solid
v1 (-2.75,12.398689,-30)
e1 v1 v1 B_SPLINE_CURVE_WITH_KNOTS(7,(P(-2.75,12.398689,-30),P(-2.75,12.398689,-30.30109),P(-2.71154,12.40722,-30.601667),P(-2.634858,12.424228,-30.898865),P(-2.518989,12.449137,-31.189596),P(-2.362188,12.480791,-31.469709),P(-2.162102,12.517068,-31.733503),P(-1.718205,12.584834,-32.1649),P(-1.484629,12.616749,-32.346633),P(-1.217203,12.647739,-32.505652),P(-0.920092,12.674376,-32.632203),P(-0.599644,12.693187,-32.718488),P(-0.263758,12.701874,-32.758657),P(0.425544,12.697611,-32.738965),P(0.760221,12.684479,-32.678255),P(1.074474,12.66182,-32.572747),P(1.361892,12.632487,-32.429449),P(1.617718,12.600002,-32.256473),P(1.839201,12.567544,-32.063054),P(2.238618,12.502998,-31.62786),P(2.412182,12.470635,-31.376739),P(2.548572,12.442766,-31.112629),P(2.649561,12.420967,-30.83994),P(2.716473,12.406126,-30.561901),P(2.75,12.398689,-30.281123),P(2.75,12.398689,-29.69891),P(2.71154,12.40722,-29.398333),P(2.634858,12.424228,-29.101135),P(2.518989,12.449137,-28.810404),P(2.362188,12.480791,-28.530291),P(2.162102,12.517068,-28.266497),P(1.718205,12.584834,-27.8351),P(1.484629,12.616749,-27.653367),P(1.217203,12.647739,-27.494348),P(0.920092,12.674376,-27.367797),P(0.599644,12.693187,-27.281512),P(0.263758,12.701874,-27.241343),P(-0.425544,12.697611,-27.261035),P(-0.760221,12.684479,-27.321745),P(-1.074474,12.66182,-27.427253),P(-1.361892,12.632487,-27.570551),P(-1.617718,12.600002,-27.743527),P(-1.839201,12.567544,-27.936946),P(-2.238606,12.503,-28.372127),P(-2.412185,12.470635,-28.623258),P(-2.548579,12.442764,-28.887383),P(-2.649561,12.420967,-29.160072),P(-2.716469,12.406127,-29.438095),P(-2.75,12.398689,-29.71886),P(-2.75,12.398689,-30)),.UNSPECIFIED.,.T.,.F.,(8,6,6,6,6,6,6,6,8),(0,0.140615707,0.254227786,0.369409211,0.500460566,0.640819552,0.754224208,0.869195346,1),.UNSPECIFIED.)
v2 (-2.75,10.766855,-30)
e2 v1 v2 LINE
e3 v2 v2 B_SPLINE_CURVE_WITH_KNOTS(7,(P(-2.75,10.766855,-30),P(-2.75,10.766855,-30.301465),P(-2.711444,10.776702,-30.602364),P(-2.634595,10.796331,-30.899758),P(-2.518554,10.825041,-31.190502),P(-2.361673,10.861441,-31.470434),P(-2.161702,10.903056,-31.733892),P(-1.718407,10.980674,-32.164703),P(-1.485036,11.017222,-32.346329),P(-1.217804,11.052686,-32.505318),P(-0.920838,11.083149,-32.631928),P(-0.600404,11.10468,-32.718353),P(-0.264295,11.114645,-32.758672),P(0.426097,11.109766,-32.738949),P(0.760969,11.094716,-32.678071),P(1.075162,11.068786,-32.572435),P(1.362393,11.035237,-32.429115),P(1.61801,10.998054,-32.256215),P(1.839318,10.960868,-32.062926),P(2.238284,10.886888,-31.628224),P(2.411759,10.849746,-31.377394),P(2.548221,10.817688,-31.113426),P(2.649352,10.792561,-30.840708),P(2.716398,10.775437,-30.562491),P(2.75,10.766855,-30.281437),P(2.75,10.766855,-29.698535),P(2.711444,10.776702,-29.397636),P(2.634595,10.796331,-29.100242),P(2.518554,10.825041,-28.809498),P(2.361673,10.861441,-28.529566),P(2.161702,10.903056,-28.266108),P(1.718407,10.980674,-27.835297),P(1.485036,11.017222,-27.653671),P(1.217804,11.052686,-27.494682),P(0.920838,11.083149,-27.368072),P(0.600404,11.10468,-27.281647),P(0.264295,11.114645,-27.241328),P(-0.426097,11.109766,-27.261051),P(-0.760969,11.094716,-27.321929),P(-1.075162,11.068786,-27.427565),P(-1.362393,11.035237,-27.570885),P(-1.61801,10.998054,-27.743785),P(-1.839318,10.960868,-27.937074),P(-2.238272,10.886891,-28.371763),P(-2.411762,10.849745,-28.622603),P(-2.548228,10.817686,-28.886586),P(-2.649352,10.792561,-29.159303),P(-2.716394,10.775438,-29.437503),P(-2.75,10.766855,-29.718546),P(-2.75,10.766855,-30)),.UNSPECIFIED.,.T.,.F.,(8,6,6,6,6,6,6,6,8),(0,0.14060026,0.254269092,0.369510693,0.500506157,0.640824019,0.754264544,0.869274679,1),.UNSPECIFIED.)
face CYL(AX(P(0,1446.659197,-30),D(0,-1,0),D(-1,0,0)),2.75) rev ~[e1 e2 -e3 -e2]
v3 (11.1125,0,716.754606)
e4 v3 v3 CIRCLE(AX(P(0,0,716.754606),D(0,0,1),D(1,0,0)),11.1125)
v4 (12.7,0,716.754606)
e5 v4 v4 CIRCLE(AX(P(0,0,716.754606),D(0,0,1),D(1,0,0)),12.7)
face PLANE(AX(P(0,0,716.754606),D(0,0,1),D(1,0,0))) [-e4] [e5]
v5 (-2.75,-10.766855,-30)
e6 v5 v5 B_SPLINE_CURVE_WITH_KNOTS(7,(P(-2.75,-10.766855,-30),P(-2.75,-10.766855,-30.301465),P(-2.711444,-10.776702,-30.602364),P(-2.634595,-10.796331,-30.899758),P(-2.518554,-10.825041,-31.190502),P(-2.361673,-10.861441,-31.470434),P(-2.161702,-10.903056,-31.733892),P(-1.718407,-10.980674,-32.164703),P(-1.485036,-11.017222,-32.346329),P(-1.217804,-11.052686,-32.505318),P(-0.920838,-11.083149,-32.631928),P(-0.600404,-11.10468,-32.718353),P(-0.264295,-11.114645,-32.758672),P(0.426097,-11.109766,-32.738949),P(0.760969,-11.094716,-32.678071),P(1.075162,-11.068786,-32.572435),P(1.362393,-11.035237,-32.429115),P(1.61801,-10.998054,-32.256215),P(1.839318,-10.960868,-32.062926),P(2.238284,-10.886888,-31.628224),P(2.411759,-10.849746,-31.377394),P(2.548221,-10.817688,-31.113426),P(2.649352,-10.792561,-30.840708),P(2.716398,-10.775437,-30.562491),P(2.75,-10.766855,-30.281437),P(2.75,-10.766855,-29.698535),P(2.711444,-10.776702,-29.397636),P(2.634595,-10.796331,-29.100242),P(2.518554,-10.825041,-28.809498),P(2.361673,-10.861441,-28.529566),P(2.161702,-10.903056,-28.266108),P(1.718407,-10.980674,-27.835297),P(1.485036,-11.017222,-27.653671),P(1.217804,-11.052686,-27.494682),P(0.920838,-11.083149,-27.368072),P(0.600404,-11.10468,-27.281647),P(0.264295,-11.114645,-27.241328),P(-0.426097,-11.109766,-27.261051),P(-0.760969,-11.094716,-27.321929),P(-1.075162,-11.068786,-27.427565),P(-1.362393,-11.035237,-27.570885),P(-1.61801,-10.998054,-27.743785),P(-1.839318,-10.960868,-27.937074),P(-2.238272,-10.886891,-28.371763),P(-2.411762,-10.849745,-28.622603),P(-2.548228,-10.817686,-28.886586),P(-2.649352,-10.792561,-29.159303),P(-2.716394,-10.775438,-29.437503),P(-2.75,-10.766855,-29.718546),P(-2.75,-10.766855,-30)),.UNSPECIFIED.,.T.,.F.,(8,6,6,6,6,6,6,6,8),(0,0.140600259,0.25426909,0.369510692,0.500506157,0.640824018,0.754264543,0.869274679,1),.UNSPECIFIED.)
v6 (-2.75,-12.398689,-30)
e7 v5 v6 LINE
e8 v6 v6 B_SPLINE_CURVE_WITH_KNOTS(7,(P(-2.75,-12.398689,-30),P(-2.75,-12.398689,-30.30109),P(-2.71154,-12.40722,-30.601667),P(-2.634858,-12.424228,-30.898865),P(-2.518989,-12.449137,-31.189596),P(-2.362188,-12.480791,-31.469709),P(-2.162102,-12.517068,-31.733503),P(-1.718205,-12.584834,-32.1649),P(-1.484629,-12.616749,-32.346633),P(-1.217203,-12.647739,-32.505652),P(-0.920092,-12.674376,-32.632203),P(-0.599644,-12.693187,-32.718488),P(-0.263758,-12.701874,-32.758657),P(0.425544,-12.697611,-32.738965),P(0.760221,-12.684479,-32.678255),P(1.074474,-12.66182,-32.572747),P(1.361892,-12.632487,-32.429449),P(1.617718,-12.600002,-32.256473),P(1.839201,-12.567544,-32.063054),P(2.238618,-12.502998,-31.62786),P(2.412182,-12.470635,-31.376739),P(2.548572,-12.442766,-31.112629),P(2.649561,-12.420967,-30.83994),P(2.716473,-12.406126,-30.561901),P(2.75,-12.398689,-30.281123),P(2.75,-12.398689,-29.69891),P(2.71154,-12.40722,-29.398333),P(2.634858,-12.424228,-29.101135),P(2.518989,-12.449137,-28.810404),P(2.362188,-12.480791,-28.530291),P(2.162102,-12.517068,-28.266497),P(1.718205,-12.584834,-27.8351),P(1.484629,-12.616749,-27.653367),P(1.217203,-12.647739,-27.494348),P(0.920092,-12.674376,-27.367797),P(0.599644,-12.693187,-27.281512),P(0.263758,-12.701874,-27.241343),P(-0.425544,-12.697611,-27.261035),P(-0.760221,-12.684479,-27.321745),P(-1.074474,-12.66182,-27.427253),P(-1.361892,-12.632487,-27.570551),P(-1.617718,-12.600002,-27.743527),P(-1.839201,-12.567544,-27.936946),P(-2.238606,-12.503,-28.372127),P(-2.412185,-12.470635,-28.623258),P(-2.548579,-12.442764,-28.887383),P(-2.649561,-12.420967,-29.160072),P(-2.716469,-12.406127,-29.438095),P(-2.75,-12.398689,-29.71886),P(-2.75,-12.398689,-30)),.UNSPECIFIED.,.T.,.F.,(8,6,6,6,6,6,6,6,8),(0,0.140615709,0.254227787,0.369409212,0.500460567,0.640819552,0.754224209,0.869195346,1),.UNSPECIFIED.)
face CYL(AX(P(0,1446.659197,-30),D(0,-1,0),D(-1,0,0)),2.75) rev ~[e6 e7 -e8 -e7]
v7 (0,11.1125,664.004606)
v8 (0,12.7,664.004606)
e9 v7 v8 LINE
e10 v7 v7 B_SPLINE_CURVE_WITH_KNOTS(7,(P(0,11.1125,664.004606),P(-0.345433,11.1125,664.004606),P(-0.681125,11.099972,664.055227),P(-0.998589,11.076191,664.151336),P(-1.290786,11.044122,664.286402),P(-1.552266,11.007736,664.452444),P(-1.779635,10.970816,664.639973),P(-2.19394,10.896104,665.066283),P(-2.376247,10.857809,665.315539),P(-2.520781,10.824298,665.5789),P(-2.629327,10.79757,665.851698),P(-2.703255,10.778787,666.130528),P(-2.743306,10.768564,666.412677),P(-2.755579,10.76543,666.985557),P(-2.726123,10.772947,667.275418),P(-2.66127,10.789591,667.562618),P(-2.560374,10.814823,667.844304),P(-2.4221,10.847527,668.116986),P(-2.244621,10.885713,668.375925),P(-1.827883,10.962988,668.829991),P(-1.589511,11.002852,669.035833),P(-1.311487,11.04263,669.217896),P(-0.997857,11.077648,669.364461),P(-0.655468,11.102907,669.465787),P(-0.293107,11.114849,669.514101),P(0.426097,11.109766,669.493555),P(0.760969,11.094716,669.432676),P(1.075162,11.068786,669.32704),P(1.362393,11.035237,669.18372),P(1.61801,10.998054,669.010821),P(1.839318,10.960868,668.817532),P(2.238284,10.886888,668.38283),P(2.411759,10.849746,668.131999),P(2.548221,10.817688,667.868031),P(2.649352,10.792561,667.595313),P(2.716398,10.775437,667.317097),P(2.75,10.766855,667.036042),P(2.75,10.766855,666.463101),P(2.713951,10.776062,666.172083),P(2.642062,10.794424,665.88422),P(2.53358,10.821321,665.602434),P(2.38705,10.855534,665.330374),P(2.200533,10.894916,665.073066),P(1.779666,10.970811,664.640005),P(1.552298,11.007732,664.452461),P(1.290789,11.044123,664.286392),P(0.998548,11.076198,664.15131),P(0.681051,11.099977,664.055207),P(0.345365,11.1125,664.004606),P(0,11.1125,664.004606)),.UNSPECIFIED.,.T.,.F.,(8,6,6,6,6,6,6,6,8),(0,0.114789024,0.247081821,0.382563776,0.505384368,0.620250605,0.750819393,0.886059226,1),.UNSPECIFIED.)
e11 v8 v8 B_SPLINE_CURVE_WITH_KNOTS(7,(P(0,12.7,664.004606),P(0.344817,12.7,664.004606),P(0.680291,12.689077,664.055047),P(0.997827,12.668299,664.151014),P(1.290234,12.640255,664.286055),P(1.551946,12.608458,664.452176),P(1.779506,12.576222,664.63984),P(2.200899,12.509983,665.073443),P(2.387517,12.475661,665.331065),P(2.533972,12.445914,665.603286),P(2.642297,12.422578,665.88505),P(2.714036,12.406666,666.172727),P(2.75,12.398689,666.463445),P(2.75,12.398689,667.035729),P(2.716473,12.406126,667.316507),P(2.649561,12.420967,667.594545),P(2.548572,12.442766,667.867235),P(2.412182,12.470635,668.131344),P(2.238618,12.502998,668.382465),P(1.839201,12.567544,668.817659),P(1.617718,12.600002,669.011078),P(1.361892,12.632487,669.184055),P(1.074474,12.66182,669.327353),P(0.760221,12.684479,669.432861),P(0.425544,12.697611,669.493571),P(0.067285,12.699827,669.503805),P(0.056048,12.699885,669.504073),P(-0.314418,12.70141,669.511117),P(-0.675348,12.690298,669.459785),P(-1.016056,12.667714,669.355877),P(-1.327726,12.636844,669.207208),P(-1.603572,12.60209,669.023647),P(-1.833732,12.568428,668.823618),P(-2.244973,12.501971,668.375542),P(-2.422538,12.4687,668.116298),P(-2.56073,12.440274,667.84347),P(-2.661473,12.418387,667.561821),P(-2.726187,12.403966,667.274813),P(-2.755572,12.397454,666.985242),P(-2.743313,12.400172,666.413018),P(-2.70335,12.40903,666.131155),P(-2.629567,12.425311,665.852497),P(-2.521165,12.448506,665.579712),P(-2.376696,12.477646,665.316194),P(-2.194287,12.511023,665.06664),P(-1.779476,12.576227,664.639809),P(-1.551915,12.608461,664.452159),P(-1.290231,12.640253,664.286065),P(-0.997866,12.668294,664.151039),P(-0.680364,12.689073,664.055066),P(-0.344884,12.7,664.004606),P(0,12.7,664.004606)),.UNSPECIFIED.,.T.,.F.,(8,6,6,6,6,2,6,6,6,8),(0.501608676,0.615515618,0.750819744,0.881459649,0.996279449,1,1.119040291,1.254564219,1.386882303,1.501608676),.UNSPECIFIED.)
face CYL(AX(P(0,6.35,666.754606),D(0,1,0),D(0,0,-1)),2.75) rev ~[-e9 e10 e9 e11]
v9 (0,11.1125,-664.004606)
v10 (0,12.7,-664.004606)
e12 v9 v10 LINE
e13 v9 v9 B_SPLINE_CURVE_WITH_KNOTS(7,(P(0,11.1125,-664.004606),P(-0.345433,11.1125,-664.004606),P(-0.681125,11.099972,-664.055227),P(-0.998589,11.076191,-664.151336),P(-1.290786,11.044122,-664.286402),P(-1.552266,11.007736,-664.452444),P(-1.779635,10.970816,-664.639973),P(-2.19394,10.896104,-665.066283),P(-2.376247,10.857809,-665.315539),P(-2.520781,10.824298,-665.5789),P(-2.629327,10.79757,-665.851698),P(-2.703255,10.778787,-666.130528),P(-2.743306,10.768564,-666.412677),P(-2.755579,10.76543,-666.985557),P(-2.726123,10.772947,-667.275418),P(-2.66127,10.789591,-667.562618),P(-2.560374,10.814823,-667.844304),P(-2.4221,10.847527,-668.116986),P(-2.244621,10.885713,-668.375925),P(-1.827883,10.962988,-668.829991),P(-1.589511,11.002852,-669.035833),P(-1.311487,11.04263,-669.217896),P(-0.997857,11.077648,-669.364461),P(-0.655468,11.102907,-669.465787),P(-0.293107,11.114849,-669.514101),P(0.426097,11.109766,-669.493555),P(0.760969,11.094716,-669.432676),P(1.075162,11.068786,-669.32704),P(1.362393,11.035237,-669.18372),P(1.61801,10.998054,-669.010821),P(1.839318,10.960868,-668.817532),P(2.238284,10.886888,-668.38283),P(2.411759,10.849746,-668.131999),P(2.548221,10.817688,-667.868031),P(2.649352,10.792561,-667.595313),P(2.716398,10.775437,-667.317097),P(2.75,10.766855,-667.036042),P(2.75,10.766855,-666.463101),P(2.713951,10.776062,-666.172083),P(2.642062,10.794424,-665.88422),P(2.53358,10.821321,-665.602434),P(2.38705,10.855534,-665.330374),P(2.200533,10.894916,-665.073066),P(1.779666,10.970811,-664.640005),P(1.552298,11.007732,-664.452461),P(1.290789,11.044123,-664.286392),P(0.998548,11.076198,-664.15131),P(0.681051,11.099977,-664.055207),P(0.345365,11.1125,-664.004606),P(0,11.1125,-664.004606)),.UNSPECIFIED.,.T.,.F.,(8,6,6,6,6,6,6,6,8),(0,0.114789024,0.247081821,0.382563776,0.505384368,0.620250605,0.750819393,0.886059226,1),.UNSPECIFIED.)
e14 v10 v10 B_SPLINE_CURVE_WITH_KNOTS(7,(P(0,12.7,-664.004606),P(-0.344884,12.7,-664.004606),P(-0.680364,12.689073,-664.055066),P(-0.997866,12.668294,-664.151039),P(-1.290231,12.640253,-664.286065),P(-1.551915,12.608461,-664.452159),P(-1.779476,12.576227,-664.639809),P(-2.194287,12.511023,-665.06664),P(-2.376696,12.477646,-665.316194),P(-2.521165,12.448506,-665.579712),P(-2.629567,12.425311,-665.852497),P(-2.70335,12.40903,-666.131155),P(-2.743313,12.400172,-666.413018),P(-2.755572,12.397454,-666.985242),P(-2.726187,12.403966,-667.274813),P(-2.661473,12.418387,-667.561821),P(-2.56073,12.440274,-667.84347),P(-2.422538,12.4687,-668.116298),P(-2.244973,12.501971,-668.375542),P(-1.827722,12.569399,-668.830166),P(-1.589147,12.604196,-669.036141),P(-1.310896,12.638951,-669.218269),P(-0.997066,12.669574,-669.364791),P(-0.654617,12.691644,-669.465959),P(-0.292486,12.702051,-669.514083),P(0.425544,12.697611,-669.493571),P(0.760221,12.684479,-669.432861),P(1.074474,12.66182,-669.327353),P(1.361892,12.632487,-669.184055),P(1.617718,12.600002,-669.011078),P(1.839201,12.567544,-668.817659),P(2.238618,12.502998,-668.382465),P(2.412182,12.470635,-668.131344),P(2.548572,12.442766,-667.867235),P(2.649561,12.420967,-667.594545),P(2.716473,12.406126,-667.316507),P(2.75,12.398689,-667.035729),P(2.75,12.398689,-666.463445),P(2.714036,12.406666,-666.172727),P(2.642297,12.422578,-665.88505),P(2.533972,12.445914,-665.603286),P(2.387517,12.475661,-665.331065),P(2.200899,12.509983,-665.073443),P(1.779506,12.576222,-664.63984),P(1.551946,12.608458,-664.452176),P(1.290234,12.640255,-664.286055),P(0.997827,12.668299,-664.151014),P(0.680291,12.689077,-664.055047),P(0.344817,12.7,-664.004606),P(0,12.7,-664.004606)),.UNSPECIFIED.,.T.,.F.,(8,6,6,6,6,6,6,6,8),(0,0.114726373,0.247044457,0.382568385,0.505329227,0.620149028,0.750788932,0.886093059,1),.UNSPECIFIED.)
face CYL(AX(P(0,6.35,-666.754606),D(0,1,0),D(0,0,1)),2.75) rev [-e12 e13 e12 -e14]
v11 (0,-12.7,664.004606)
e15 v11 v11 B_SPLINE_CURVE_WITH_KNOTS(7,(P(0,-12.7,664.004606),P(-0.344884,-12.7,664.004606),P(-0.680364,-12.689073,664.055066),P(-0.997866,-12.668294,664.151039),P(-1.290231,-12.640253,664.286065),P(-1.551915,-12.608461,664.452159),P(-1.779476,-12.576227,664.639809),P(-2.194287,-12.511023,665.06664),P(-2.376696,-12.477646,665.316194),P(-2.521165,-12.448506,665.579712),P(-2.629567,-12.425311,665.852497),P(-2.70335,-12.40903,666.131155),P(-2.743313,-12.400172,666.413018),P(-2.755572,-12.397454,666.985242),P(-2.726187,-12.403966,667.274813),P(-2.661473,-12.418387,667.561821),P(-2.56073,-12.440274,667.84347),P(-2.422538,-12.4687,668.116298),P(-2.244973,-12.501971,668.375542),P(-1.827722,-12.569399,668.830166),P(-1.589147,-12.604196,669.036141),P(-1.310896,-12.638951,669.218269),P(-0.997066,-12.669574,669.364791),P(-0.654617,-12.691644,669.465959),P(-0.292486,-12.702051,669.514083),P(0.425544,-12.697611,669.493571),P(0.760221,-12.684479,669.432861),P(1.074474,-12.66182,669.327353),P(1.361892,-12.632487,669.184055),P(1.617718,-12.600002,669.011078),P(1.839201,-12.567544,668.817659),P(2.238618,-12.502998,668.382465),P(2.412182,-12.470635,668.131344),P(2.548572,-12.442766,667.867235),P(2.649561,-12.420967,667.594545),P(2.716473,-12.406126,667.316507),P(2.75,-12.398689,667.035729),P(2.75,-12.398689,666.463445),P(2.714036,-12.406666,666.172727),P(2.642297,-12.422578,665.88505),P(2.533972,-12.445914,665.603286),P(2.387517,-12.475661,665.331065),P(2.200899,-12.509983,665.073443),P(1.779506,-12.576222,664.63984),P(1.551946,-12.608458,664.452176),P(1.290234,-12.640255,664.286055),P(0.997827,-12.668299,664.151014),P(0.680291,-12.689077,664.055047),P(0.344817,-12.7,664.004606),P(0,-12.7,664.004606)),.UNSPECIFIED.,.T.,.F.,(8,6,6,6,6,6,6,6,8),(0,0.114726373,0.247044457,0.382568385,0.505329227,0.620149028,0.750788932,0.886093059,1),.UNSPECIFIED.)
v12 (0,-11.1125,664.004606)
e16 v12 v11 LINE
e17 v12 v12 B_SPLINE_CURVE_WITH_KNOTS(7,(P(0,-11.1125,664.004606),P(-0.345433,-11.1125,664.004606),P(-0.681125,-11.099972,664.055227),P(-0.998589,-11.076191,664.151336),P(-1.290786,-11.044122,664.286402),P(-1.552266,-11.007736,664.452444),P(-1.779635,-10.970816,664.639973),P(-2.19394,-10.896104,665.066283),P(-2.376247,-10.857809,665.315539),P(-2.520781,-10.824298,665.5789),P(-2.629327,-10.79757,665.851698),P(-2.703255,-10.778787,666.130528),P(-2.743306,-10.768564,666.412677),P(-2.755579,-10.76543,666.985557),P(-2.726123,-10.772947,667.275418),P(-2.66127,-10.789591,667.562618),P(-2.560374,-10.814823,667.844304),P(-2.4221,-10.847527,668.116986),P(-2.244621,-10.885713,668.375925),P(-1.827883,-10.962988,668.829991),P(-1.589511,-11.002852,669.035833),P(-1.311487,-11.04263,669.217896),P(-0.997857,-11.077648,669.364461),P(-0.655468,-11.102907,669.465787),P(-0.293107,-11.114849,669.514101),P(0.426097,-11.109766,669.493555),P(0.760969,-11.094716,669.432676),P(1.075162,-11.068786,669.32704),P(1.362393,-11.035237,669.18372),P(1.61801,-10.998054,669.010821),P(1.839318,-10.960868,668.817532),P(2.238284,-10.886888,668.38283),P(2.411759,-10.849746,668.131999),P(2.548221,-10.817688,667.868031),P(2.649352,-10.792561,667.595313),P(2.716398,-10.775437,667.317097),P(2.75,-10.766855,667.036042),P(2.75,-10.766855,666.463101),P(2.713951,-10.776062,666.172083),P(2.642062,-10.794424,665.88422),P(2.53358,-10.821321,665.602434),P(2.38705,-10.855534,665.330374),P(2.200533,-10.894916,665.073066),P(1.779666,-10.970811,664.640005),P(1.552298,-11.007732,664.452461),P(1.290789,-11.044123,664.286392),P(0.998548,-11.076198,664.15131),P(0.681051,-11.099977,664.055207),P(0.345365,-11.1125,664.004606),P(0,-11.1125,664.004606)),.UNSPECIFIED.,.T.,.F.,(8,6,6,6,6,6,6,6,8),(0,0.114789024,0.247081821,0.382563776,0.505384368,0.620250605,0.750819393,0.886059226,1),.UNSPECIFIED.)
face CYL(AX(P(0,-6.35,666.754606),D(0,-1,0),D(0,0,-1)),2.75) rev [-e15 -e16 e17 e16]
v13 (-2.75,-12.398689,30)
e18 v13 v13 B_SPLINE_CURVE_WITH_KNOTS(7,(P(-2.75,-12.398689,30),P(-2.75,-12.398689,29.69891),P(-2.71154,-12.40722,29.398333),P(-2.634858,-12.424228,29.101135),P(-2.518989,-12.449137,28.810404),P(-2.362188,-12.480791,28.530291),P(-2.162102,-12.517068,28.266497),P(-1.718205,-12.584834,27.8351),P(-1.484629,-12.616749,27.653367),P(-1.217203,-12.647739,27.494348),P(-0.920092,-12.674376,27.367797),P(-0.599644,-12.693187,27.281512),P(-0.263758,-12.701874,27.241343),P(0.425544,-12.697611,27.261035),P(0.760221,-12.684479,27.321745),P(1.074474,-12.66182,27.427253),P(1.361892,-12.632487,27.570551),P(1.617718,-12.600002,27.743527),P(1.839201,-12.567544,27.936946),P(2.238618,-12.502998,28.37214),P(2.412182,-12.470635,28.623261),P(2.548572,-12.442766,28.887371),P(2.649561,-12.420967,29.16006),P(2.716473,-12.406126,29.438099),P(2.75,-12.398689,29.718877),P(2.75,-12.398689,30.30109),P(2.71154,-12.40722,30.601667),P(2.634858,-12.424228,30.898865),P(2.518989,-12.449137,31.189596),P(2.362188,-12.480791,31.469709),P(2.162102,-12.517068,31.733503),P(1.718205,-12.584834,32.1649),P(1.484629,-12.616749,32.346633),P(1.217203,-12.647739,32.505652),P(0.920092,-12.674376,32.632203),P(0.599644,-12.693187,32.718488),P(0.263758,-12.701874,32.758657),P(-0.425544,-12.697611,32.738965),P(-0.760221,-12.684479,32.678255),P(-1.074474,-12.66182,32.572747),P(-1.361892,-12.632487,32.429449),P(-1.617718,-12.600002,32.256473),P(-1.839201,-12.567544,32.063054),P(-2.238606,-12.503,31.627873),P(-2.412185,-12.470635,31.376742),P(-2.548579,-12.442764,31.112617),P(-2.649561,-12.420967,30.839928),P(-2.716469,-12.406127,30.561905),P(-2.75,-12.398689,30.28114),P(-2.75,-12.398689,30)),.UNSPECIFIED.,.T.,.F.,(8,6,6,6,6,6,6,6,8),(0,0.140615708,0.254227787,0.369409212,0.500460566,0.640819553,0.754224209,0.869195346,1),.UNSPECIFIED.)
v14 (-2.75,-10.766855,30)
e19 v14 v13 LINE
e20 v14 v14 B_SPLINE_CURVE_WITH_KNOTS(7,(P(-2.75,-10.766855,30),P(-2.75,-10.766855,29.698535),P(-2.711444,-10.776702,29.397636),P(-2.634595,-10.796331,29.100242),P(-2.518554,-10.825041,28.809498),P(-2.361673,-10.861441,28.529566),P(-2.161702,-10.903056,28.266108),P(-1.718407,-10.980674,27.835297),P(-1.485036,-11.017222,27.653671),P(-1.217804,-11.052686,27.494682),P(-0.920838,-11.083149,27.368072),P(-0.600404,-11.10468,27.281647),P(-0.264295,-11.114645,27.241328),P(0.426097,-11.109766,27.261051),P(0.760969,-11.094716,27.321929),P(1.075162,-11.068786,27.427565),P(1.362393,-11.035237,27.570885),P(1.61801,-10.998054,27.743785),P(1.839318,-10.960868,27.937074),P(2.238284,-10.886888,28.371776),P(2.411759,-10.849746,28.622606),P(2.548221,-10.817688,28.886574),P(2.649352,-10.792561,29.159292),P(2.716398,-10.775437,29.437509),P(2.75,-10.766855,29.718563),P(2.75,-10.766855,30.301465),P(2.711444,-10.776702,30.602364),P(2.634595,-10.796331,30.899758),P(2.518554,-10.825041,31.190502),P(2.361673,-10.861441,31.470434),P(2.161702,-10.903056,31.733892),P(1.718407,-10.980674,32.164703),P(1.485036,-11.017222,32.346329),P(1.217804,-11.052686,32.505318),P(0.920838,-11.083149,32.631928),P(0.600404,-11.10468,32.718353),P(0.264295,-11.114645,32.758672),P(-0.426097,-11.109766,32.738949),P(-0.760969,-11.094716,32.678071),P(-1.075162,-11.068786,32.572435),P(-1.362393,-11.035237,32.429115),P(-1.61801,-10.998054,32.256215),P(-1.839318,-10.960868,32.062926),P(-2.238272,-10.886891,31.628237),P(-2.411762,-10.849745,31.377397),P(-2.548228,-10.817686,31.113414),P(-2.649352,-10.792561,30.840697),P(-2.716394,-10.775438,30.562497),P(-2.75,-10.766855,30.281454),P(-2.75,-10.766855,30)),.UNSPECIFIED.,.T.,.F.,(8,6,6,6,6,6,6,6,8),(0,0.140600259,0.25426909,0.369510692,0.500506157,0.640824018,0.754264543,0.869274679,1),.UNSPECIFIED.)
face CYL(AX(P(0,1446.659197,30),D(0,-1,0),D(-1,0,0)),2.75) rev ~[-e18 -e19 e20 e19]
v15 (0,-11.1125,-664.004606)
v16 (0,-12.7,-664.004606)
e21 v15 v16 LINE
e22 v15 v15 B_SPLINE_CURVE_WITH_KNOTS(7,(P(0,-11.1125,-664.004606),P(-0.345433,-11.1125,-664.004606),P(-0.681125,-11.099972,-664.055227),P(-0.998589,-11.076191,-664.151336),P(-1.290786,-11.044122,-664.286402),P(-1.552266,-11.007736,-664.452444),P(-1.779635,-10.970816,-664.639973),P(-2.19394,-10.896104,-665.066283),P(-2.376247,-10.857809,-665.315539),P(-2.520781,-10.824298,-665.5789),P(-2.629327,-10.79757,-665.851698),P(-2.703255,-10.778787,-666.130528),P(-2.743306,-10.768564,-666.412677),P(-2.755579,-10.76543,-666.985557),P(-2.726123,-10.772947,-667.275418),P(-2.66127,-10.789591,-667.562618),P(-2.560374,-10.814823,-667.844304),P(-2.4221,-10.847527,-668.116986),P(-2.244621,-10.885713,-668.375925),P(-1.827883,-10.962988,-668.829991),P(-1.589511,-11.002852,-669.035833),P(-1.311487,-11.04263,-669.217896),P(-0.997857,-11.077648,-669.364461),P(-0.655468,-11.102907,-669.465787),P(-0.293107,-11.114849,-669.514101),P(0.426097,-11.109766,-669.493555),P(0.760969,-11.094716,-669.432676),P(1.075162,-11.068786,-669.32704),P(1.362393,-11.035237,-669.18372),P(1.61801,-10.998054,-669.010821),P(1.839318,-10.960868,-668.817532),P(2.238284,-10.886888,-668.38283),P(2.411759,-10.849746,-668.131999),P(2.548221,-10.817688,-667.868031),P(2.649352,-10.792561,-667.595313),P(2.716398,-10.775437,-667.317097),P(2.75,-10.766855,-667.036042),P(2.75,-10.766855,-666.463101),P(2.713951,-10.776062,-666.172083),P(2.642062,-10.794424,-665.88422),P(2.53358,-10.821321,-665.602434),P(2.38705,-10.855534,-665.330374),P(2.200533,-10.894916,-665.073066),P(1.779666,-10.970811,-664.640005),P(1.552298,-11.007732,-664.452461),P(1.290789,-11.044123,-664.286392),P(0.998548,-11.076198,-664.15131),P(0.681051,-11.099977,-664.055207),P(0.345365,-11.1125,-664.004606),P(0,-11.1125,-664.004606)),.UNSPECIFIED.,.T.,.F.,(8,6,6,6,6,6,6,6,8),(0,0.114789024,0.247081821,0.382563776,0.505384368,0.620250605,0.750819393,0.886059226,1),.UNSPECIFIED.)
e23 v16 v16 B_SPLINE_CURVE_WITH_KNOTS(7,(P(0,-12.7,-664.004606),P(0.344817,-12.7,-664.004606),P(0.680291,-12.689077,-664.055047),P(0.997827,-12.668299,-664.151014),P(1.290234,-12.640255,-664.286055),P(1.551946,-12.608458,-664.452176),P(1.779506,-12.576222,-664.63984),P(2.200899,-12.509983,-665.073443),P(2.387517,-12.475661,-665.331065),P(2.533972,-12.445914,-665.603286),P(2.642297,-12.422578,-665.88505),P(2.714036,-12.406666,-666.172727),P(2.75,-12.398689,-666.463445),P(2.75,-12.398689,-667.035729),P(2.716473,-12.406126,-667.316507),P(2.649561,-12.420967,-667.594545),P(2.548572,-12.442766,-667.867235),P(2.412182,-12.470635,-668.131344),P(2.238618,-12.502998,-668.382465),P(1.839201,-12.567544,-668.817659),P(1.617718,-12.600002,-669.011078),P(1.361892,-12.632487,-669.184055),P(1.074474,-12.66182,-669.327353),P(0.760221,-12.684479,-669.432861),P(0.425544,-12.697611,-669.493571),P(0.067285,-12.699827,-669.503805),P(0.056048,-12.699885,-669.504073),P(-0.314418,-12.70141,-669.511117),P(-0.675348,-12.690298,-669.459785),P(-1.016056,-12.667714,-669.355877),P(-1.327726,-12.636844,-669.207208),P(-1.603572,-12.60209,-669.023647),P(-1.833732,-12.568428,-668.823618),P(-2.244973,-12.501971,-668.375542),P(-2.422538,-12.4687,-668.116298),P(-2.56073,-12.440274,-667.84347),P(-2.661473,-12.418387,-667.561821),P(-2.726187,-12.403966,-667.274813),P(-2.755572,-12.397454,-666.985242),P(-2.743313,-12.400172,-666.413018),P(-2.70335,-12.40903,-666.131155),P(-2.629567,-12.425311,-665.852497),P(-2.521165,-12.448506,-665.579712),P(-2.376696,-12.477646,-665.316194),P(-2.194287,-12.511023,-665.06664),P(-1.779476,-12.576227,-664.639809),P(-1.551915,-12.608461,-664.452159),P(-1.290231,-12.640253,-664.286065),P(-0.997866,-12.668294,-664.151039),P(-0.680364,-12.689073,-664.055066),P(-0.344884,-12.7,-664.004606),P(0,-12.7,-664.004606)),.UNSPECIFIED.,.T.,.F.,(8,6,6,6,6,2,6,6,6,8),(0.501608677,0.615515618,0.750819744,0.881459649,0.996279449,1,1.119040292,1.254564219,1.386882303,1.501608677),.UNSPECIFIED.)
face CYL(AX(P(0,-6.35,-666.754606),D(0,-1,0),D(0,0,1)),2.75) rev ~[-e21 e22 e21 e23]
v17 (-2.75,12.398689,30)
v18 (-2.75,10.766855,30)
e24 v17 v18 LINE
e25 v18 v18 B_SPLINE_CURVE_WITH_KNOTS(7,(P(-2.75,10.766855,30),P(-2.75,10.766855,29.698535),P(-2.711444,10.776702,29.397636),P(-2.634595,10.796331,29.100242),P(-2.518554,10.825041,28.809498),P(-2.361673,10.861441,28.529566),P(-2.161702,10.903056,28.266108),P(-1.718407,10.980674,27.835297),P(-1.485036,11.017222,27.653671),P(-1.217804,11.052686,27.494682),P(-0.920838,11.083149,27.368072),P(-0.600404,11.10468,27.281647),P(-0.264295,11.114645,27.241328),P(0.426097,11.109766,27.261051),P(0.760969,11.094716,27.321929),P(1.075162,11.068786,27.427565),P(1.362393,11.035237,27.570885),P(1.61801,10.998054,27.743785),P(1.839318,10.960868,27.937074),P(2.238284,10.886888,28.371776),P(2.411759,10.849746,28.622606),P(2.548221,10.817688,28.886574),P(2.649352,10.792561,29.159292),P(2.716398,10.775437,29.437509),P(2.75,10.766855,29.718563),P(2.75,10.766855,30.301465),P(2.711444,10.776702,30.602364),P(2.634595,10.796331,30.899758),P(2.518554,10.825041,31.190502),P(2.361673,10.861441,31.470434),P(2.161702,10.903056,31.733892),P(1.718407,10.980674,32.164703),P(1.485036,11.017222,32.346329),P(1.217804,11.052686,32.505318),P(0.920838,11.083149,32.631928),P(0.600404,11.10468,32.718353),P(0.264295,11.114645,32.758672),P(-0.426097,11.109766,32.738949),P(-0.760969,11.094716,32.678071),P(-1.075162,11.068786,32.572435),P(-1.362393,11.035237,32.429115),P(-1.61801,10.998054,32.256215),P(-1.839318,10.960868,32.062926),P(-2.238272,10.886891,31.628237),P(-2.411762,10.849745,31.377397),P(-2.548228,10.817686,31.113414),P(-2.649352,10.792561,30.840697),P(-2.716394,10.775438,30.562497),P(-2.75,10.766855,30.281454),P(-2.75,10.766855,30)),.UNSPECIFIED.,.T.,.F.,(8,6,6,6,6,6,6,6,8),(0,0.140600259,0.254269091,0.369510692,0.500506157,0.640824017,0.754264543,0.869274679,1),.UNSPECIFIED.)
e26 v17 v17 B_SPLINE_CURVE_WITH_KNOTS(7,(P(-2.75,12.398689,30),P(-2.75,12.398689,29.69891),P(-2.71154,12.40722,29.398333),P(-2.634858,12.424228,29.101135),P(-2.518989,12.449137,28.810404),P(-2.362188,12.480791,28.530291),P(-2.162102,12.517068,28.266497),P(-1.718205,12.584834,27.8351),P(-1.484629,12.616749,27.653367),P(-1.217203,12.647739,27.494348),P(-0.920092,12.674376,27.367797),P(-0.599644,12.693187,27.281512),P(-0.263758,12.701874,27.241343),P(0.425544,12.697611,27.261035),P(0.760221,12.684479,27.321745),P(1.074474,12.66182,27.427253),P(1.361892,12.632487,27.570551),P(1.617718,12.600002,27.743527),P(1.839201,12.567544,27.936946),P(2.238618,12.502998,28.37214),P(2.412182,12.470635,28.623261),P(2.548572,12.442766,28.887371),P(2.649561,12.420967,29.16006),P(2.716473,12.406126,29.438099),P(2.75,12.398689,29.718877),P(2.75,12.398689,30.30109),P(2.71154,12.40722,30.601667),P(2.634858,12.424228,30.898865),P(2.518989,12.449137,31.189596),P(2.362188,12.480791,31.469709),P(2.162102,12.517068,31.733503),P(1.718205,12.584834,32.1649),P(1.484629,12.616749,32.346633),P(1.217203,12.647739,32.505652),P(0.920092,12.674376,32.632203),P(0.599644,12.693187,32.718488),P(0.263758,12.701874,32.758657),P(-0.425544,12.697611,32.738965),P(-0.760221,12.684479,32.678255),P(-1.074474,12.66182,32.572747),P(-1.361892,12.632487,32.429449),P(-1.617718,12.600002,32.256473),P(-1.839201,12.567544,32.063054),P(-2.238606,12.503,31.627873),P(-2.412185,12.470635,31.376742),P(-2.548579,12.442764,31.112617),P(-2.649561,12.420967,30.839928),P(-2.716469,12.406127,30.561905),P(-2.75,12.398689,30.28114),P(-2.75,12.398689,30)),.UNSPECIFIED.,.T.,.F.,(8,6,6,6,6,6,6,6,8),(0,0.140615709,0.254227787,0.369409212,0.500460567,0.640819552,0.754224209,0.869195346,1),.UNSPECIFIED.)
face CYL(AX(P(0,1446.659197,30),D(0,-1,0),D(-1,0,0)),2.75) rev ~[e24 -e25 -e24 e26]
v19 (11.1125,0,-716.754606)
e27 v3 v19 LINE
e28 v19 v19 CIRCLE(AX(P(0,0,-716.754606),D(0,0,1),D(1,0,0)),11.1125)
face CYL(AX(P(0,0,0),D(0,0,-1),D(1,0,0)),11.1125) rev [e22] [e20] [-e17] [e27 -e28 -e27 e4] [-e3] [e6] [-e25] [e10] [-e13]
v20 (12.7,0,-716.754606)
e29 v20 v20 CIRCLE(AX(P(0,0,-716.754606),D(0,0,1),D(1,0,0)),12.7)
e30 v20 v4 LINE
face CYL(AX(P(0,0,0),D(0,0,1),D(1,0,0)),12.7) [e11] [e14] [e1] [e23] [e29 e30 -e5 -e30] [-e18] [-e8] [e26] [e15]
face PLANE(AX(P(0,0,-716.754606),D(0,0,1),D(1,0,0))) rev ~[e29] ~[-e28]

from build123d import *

# Parameters (mm, degrees)
SKETCH1_R                                  = 12.7
SKETCH1_R_2                                = 11.1125
BOSS_EXTRUDE1_DEPTH                        = 716.7546056
M5_CLEARANCE_HOLE1_D                       = 5.5
SKETCH7_W                                  = 2.75
SKETCH7_H                                  = 12.7
MIRROR1_AT_THE_SECOND_PLANE_COPY_1_SKETC_W = 2.75
MIRROR1_AT_THE_SECOND_PLANE_COPY_1_SKETC_H = 12.7


with BuildPart() as part:
    # Sketch1 → Boss-Extrude1 (new, symmetric)
    with BuildSketch(Plane.XY):
        Circle(SKETCH1_R)
        Circle(SKETCH1_R_2, mode=Mode.SUBTRACT)
    extrude(amount=BOSS_EXTRUDE1_DEPTH, both=True)

    # M5 Clearance Hole1 (through all)
    with Locations(Plane(origin=(0, 12.7, 0), x_dir=(1, 0, 0), z_dir=(0, 1, 0))):
        with Locations((0, 30), (0, -30)):
            Hole(M5_CLEARANCE_HOLE1_D / 2)

    # Sketch7 → M5 Clearance Hole2 (revolve, cut)
    with BuildSketch(Plane(origin=(0, 0, 666.7546056), x_dir=(0, 0, -1), z_dir=(1, 0, 0))):
        with Locations((1.375, 6.35)):
            Rectangle(SKETCH7_W, SKETCH7_H)
    m5_clearance_hole2 = revolve(axis=Axis((0, -6.35, 666.7546056), (0, 1, 0)), mode=Mode.SUBTRACT)

    # Mirror1: M5 Clearance Hole2 across plane
    add(m5_clearance_hole2.mirror(Plane.ZX), mode=Mode.SUBTRACT)

    # Mirror1 at the second plane: M5 Clearance Hole2 across plane
    add(m5_clearance_hole2.mirror(Plane.XY), mode=Mode.SUBTRACT)

    # Mirror1 at the second plane copy 1 sketc → Mirror1 at the second plane copy 1 (revolve, cut)
    with BuildSketch(Plane(origin=(0, 0, -666.7546056), x_dir=(0, 0, 1), z_dir=(1, 0, 0))):
        with Locations((1.375, 6.35)):
            Rectangle(MIRROR1_AT_THE_SECOND_PLANE_COPY_1_SKETC_W, MIRROR1_AT_THE_SECOND_PLANE_COPY_1_SKETC_H)
    revolve(axis=Axis((0, 6.35, -666.7546056), (0, -1, 0)), mode=Mode.SUBTRACT)


solid = part.part
